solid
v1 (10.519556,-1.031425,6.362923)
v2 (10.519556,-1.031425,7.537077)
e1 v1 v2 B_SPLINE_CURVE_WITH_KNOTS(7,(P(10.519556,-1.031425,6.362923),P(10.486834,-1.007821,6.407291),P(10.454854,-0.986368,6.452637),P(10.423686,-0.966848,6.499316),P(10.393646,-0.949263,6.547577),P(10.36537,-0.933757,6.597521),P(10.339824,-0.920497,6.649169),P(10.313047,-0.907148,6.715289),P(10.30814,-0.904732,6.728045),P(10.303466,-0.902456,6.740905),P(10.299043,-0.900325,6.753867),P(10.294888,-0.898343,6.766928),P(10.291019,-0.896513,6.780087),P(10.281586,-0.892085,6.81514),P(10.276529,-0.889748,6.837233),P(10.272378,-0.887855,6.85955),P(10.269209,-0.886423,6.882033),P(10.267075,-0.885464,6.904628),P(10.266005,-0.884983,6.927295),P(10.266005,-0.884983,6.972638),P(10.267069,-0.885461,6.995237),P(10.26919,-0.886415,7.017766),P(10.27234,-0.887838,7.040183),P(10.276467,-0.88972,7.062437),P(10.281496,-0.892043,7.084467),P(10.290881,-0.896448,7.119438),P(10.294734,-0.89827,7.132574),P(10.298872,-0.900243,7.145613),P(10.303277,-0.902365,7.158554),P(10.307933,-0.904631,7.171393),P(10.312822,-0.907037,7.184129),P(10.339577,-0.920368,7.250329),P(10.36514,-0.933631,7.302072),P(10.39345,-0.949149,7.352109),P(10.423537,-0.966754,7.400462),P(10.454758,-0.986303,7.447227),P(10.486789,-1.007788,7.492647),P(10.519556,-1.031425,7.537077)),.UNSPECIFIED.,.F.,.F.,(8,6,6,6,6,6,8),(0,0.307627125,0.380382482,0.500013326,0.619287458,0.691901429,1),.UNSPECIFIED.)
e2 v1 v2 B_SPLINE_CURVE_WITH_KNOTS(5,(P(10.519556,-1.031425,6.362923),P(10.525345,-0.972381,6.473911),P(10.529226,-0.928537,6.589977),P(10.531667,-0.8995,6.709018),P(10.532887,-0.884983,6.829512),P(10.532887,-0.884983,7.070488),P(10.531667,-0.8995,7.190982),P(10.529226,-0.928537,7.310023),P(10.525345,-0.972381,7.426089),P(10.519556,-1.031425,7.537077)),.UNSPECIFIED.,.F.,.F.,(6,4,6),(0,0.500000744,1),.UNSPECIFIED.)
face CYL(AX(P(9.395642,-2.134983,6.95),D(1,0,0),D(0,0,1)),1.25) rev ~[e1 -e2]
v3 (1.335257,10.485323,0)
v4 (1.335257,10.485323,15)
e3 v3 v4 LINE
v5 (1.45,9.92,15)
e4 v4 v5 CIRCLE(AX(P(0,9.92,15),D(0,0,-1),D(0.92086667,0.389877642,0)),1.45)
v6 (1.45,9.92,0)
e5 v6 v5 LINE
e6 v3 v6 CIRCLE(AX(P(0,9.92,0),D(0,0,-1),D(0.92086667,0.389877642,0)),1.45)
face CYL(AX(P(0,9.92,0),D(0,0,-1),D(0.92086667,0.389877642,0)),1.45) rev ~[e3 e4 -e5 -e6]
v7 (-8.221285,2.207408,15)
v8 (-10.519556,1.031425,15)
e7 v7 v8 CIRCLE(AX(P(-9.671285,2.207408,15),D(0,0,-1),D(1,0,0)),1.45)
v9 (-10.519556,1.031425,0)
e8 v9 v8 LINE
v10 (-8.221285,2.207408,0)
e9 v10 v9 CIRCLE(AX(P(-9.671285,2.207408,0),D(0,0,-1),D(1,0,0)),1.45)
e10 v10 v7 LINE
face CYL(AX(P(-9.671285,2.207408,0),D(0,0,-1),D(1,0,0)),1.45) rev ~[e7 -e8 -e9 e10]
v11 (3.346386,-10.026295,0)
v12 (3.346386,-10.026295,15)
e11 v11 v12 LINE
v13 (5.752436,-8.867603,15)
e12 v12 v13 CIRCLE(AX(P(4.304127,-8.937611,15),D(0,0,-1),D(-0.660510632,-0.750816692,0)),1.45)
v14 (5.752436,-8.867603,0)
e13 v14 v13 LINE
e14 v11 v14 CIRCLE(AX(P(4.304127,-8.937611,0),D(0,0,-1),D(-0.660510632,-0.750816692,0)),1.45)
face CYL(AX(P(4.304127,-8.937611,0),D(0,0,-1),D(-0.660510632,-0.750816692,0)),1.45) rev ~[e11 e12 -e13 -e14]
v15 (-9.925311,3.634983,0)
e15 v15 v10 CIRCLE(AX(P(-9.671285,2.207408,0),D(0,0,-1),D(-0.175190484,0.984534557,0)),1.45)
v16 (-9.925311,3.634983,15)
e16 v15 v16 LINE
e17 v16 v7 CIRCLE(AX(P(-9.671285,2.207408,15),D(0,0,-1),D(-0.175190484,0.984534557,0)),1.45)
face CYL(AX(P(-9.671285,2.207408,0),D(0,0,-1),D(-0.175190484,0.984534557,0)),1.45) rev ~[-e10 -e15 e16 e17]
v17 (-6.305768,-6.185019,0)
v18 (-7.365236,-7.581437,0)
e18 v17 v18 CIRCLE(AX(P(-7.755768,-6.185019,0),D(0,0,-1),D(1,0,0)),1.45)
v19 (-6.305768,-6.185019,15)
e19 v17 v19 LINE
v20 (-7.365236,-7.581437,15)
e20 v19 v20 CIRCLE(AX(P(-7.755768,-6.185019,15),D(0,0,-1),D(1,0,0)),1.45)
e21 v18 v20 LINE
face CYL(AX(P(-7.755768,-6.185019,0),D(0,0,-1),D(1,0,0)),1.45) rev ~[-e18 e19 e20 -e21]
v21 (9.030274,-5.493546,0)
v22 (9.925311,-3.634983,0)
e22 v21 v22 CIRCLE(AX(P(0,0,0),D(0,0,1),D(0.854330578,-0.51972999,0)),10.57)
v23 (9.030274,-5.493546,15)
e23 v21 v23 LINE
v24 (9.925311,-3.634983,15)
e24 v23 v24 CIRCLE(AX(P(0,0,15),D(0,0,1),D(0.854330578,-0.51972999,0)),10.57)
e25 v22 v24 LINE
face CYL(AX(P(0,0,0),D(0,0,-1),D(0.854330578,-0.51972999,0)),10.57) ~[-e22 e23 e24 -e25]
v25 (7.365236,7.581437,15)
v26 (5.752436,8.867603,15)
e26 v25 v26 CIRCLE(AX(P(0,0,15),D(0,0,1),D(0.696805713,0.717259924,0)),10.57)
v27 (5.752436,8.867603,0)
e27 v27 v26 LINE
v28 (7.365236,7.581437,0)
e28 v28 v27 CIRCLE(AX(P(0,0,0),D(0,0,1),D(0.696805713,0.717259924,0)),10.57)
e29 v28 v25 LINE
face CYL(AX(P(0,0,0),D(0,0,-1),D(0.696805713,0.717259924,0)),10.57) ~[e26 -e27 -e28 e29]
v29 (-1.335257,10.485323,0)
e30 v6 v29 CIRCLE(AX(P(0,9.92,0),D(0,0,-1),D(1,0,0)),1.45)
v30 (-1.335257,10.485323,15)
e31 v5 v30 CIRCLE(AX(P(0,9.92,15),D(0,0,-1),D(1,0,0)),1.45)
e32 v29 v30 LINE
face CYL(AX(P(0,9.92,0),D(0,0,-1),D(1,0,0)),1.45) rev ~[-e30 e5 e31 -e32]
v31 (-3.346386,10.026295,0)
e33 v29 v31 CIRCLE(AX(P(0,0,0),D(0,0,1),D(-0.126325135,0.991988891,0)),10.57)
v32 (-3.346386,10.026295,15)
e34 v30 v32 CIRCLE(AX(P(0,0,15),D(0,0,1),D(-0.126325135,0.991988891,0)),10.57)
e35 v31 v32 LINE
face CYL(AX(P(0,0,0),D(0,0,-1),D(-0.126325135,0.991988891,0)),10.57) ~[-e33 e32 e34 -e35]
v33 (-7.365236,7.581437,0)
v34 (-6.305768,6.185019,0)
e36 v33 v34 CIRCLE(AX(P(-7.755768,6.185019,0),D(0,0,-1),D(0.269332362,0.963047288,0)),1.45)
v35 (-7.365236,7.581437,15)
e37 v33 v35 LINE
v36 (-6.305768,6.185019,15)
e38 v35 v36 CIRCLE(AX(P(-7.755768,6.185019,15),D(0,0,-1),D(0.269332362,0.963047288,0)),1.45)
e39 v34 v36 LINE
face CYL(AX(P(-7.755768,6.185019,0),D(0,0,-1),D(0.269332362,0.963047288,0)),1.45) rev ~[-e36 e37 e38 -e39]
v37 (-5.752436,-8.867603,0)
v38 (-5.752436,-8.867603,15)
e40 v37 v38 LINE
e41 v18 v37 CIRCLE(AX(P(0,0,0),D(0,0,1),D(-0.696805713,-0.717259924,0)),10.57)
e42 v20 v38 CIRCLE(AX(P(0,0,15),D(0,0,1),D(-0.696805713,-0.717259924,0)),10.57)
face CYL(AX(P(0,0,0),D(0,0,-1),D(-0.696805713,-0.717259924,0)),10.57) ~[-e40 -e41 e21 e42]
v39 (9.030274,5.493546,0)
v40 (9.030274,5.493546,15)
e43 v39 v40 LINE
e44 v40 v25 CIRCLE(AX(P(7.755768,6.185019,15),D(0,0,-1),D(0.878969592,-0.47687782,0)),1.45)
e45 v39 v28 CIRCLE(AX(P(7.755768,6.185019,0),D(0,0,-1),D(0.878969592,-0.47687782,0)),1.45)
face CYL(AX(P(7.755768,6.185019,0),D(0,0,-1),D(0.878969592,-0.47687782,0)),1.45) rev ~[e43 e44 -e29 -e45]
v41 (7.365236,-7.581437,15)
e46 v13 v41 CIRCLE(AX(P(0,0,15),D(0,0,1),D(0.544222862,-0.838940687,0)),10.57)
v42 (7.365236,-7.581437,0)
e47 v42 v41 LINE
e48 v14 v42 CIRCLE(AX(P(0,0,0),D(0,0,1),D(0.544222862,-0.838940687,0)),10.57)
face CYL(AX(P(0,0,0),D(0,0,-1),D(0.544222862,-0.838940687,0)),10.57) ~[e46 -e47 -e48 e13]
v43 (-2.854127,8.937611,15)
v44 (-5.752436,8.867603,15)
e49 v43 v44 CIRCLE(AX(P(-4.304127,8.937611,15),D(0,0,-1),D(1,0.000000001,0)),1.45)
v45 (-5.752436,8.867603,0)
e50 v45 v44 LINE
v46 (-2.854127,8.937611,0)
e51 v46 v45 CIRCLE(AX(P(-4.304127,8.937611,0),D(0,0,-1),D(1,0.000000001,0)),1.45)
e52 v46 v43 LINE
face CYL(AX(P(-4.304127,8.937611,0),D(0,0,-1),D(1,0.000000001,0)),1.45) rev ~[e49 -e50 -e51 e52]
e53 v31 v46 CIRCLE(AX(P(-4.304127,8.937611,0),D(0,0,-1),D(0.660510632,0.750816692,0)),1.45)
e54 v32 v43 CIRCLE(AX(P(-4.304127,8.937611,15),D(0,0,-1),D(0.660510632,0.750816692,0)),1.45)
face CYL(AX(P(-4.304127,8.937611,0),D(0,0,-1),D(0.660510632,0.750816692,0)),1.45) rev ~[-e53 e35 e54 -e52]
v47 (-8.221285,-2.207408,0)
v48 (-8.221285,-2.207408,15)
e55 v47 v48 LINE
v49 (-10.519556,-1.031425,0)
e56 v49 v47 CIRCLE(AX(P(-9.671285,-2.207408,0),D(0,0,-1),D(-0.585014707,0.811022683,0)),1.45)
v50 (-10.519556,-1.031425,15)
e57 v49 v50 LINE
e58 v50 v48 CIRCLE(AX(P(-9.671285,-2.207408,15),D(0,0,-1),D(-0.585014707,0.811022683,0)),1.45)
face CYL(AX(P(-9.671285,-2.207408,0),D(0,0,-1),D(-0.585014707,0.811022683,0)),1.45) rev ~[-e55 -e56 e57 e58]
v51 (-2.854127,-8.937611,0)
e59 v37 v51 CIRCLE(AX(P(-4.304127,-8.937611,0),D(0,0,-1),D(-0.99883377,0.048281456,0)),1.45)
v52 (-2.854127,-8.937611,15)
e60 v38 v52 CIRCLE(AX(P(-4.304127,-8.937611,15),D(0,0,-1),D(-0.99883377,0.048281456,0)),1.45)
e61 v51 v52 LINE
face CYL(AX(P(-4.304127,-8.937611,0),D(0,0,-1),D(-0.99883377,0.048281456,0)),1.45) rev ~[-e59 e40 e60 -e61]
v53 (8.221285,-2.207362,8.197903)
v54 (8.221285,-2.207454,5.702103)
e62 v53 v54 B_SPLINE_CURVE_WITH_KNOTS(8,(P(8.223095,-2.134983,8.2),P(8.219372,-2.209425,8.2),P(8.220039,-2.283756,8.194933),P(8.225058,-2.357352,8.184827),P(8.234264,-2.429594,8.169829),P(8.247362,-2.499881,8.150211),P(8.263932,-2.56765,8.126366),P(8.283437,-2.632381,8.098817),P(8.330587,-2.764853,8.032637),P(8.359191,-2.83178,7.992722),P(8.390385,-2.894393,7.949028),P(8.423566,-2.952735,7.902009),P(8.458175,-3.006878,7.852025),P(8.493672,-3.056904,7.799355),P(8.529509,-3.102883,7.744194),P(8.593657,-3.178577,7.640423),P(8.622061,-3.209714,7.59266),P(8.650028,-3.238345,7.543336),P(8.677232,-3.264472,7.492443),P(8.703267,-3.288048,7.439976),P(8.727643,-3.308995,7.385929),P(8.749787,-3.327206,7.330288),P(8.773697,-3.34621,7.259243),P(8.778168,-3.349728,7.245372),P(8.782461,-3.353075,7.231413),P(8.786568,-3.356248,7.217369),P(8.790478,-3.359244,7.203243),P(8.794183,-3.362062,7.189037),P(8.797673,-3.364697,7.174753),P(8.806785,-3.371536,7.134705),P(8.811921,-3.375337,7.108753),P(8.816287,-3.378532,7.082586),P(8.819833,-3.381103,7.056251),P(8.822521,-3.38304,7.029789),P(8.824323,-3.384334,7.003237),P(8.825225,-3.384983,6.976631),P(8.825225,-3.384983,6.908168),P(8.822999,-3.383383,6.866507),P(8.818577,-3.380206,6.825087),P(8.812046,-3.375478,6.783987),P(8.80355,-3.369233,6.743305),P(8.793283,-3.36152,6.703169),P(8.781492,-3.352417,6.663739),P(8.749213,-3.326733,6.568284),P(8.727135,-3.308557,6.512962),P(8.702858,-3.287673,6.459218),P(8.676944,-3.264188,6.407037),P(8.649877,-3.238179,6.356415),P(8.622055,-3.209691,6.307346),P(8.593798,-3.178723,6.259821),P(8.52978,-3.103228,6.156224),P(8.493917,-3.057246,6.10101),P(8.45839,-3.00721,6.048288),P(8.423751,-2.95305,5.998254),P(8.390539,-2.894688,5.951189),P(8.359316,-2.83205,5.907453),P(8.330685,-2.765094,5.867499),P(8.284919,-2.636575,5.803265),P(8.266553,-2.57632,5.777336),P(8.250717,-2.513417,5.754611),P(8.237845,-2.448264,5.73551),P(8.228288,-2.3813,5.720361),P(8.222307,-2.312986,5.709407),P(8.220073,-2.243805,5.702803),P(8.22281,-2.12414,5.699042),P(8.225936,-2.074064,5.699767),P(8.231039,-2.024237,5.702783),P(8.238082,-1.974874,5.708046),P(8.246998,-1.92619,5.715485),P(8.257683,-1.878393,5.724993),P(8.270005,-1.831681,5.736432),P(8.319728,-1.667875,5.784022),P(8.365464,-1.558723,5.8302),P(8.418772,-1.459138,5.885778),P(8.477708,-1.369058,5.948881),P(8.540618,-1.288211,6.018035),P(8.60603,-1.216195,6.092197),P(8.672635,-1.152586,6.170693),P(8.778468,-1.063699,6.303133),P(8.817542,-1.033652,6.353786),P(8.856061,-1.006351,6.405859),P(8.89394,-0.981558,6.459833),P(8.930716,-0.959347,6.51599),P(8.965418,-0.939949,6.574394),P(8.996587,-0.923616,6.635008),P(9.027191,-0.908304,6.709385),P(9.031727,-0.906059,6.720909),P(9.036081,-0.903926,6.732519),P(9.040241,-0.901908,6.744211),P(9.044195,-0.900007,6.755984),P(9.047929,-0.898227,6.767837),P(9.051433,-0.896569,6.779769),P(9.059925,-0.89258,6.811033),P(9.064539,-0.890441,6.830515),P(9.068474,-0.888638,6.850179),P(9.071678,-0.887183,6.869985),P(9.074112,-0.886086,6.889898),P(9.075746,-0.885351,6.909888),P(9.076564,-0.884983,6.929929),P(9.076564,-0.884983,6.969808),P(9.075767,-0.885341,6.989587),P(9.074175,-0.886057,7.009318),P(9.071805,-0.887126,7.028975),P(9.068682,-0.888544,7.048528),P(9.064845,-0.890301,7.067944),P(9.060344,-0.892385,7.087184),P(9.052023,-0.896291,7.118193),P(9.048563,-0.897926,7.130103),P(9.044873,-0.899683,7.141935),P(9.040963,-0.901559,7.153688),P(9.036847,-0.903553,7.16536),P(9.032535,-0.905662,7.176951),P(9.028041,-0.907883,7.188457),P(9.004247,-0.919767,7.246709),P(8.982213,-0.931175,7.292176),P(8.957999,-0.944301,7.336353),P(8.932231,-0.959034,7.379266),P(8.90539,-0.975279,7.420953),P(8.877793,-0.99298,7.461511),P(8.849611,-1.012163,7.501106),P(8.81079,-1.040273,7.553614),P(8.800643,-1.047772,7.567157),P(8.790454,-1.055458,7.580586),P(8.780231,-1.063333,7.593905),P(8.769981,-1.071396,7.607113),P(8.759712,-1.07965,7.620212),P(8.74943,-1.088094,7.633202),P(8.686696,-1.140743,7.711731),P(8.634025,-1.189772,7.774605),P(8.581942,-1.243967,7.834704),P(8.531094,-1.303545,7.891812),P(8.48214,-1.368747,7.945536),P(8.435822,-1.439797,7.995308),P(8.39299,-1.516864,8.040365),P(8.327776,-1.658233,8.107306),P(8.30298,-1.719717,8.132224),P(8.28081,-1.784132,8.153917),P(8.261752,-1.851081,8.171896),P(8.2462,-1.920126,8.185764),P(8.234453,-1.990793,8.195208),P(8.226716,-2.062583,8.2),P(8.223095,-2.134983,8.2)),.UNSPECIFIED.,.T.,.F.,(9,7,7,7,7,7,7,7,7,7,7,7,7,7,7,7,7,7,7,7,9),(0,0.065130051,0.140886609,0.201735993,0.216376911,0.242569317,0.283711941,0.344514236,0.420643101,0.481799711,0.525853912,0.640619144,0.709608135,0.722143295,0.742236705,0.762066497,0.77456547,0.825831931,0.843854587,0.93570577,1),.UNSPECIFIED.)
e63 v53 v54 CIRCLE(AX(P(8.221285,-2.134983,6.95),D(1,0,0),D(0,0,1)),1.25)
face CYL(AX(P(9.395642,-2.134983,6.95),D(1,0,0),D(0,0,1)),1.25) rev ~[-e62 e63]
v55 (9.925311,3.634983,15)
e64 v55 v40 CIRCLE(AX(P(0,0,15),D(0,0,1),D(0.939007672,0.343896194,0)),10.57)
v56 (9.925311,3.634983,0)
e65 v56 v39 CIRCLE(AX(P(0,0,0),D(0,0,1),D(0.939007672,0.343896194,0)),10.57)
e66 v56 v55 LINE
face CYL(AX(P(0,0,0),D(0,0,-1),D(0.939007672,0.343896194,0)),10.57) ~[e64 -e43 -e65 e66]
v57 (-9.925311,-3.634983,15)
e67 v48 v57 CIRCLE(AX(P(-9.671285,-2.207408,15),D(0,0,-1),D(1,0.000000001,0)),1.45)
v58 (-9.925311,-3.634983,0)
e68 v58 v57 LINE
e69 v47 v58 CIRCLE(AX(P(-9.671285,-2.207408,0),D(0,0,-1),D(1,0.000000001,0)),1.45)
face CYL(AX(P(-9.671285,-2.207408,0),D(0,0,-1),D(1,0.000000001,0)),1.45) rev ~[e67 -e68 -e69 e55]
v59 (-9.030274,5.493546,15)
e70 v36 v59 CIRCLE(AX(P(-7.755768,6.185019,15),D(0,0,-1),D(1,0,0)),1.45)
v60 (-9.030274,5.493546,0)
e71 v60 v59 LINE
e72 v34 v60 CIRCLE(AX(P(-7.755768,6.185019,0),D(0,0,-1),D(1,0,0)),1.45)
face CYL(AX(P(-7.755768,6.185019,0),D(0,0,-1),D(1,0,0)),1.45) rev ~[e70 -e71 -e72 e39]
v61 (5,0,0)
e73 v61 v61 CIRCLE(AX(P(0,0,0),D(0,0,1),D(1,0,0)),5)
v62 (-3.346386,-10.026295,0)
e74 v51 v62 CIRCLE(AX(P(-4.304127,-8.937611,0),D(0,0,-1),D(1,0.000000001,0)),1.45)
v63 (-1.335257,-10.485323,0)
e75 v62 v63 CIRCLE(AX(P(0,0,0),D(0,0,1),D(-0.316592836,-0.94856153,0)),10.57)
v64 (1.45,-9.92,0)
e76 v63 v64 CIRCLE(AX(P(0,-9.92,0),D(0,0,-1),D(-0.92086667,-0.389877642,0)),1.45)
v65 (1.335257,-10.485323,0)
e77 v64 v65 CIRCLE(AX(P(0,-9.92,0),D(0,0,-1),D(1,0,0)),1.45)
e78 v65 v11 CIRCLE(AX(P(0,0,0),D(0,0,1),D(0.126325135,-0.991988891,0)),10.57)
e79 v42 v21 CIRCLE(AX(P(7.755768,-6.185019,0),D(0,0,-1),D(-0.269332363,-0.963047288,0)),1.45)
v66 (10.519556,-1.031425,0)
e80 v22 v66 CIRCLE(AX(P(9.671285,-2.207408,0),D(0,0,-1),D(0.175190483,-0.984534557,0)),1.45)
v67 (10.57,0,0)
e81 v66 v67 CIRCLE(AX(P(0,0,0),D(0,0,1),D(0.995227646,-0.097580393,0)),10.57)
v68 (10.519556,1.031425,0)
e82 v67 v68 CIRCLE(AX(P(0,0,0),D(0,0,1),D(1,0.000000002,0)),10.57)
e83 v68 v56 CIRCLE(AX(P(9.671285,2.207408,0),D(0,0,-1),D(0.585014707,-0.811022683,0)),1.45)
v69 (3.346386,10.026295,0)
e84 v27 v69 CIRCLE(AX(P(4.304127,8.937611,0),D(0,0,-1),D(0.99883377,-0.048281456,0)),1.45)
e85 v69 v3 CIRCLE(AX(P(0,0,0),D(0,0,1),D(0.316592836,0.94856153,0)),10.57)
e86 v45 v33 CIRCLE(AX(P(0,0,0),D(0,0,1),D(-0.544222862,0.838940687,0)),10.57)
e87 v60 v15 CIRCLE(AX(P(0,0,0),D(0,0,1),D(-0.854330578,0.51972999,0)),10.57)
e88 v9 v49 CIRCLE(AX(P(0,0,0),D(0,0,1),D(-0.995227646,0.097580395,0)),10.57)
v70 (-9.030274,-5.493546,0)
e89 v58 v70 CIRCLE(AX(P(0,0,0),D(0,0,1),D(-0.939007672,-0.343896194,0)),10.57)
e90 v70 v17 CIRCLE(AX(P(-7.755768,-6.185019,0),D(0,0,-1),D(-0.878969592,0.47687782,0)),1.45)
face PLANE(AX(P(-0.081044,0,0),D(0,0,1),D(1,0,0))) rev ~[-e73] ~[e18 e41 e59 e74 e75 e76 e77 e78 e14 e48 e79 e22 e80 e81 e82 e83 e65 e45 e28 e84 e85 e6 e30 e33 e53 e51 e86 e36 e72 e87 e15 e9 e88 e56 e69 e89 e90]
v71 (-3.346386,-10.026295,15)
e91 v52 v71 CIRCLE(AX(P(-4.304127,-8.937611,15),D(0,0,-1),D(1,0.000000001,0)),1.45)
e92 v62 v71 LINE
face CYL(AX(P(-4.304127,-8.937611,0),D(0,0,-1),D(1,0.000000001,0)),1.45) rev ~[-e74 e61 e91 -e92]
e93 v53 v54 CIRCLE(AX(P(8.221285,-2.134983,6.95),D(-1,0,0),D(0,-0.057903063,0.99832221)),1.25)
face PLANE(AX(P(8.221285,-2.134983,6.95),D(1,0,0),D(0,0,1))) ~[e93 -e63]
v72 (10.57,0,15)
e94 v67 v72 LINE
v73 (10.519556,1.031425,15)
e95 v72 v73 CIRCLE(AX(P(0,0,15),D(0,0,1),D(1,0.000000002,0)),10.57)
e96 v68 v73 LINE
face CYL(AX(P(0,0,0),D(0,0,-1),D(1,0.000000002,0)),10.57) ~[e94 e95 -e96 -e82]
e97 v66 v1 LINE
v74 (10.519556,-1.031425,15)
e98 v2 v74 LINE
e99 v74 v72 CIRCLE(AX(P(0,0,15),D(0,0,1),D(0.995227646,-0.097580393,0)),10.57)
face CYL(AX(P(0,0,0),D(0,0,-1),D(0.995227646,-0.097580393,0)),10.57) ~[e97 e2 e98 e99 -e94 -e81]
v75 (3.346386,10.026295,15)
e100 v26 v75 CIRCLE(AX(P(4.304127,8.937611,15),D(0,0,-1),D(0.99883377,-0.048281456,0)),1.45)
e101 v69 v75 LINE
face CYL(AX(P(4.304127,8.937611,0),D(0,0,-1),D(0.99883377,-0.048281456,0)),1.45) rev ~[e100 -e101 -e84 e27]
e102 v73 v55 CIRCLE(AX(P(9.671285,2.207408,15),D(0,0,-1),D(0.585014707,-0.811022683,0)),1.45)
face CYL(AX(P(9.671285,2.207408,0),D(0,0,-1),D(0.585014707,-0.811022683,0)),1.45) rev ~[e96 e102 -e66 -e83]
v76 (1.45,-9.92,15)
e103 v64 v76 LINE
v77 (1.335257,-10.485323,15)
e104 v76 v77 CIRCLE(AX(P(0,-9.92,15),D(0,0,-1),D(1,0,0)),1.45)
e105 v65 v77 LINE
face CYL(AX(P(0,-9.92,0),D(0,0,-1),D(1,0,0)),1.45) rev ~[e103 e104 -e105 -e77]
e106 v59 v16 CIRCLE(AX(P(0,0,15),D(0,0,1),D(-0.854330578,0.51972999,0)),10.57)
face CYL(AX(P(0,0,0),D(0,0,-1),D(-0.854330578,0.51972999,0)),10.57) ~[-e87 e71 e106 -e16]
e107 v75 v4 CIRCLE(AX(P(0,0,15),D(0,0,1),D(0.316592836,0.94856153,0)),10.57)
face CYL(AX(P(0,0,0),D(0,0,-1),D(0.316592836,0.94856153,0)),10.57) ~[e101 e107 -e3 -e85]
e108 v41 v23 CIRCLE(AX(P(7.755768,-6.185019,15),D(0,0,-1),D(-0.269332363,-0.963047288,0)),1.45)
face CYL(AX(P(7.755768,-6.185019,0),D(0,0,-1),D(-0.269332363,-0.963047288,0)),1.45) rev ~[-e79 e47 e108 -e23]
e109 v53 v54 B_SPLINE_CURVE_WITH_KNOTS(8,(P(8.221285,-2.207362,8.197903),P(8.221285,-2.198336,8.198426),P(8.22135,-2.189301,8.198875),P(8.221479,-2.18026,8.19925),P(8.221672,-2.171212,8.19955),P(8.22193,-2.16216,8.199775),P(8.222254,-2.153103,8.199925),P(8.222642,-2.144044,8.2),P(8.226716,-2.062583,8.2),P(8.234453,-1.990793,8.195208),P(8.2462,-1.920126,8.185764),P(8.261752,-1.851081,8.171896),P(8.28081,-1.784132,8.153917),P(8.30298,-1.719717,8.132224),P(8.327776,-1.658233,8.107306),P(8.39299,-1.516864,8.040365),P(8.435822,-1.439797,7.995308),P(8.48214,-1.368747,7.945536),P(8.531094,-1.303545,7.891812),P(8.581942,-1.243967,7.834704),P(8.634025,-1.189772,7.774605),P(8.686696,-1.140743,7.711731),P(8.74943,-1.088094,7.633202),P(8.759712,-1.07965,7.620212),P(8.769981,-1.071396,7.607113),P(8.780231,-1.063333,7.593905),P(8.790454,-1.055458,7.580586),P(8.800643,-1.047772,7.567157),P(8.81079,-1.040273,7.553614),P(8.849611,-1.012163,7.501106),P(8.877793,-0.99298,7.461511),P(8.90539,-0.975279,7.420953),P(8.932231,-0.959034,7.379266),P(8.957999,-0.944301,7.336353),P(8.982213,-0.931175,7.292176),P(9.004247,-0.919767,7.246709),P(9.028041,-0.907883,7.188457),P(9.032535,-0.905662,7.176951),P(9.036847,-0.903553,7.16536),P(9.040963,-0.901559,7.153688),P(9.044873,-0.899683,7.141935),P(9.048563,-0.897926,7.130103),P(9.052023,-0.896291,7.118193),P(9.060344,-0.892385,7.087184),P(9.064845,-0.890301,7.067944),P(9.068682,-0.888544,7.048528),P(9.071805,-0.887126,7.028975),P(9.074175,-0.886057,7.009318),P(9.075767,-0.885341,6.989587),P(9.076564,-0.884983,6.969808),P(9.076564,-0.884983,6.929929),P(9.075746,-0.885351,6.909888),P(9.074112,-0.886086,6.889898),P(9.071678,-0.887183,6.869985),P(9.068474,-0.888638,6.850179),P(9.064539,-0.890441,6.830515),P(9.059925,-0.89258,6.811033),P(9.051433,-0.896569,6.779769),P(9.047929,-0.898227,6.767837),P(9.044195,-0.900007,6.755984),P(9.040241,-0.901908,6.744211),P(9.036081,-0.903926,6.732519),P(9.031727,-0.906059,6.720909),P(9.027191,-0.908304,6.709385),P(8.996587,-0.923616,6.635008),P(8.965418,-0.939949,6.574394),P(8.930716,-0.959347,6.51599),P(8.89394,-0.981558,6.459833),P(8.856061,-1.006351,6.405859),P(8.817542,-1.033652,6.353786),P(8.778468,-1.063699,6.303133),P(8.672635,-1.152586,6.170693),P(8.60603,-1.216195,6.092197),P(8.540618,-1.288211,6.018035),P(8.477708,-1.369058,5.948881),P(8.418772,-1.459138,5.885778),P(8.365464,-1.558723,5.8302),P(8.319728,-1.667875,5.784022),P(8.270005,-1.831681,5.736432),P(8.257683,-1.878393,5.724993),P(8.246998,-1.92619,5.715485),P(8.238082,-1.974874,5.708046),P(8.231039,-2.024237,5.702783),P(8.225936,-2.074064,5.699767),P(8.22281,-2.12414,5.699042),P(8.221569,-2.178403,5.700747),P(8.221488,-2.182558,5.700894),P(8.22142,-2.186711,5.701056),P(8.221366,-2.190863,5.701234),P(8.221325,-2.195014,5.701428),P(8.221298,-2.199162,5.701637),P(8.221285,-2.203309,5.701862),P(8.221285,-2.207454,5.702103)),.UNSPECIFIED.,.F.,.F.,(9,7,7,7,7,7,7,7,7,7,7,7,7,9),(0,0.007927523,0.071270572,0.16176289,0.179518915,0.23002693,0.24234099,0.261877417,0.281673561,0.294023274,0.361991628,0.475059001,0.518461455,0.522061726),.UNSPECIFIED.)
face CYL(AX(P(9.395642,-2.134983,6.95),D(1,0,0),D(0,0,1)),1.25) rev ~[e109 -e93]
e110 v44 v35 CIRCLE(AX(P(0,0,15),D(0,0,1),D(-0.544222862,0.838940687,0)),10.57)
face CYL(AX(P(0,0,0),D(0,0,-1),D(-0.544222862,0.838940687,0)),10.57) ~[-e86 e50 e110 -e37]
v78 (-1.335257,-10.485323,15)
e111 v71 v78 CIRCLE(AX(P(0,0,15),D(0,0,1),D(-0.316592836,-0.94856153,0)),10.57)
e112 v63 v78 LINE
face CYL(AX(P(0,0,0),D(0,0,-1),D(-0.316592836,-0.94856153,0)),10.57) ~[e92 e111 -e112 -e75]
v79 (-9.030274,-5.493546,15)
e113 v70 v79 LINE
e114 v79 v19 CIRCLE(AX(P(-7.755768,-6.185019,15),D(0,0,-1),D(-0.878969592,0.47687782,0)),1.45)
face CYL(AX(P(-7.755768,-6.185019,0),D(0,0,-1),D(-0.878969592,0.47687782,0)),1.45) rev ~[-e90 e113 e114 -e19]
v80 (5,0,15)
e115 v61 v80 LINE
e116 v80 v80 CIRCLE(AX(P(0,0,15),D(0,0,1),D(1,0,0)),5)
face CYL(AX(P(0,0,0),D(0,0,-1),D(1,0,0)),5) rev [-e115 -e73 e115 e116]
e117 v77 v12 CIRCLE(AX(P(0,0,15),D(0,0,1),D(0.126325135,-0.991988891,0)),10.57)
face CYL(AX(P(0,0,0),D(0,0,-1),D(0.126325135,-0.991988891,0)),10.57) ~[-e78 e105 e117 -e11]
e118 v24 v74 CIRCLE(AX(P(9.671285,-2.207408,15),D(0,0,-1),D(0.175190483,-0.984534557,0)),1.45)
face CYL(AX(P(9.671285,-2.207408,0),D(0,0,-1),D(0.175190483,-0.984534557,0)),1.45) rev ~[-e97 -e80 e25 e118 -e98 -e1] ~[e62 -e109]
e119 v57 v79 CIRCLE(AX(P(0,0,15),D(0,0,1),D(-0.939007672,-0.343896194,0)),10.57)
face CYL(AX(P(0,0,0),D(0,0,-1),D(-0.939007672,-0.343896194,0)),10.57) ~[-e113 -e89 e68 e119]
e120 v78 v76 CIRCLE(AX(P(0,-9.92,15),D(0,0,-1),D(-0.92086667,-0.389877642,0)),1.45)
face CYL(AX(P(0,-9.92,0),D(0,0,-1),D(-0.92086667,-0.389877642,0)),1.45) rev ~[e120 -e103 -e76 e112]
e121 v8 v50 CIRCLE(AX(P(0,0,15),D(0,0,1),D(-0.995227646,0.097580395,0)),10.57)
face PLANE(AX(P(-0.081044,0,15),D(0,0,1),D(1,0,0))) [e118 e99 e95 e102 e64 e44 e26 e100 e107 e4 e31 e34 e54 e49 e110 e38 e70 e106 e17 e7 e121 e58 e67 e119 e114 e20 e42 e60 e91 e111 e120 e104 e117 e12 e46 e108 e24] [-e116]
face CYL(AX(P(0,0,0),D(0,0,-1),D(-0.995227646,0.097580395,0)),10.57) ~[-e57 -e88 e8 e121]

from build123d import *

# Parameters (mm, degrees)
SKETCH1_R           = 5
BOSS_EXTRUDE1_DEPTH = 15
SKETCH7_W           = 1.25
SKETCH7_H           = 2.348715111


with BuildPart() as part:
    # Sketch1 → Boss-Extrude1 (new body)
    with BuildSketch(Plane.XY):
        with BuildLine():
            ThreePointArc((10.519556214, -1.031424774), (10.557381521, -0.516328781), (10.57, 0))
            ThreePointArc((10.57, 0), (10.557381521, 0.516328781), (10.519556214, 1.031424774))
            ThreePointArc((10.519556214, 1.031424774), (8.257639416, 1.884752311), (9.92531109, 3.634982773))
            ThreePointArc((9.92531109, 3.634982773), (9.523240934, 4.586151122), (9.030274215, 5.493545995))
            ThreePointArc((9.030274215, 5.493545995), (6.622112657, 5.280958622), (7.36523638, 7.581437401))
            ThreePointArc((7.36523638, 7.581437401), (6.590287206, 8.26395877), (5.752435659, 8.867603058))
            ThreePointArc((5.752435659, 8.867603058), (3.67499527, 7.631206311), (3.346386275, 10.026295373))
            ThreePointArc((3.346386275, 10.026295373), (2.352046272, 10.304988032), (1.335256672, 10.485322581))
            ThreePointArc((1.335256672, 10.485322581), (1.421024661, 10.208424883), (1.45, 9.92))
            ThreePointArc((1.45, 9.92), (-0.288424883, 8.498975339), (-1.335256672, 10.485322581))
            ThreePointArc((-1.335256672, 10.485322581), (-2.352046272, 10.304988032), (-3.346386275, 10.026295373))
            ThreePointArc((-3.346386275, 10.026295373), (-2.98291066, 9.535012373), (-2.854126692, 8.93761117))
            ThreePointArc((-2.854126692, 8.93761117), (-4.269112426, 7.488033989), (-5.752435659, 8.867603058))
            ThreePointArc((-5.752435659, 8.867603058), (-6.590287206, 8.26395877), (-7.36523638, 7.581437401))
            ThreePointArc((-7.36523638, 7.581437401), (-6.600612193, 7.061440168), (-6.305768306, 6.185018834))
            ThreePointArc((-6.305768306, 6.185018834), (-7.399070653, 4.779576988), (-9.030274215, 5.493545995))
            ThreePointArc((-9.030274215, 5.493545995), (-9.523240934, 4.586151122), (-9.92531109, 3.634982773))
            ThreePointArc((-9.92531109, 3.634982773), (-8.740113044, 3.318901703), (-8.221284889, 2.207407665))
            ThreePointArc((-8.221284889, 2.207407665), (-9.010790158, 0.916575875), (-10.519556214, 1.031424774))
            ThreePointArc((-10.519556214, 1.031424774), (-10.57, 0), (-10.519556214, -1.031424774))
            ThreePointArc((-10.519556214, -1.031424774), (-9.010790158, -0.916575875), (-8.221284889, -2.207407665))
            ThreePointArc((-8.221284889, -2.207407665), (-8.740113044, -3.318901703), (-9.92531109, -3.634982773))
            ThreePointArc((-9.92531109, -3.634982773), (-9.523240934, -4.586151122), (-9.030274215, -5.493545995))
            ThreePointArc((-9.030274215, -5.493545995), (-7.399070653, -4.779576988), (-6.305768306, -6.185018834))
            ThreePointArc((-6.305768306, -6.185018834), (-6.600612193, -7.061440168), (-7.36523638, -7.581437401))
            ThreePointArc((-7.36523638, -7.581437401), (-6.590287206, -8.26395877), (-5.752435659, -8.867603058))
            ThreePointArc((-5.752435659, -8.867603058), (-4.269112426, -7.488033989), (-2.854126692, -8.93761117))
            ThreePointArc((-2.854126692, -8.93761117), (-2.98291066, -9.535012373), (-3.346386275, -10.026295373))
            ThreePointArc((-3.346386275, -10.026295373), (-2.352046272, -10.304988032), (-1.335256672, -10.485322581))
            ThreePointArc((-1.335256672, -10.485322581), (-0.288424883, -8.498975339), (1.45, -9.92))
            ThreePointArc((1.45, -9.92), (1.421024661, -10.208424883), (1.335256672, -10.485322581))
            ThreePointArc((1.335256672, -10.485322581), (2.352046272, -10.304988032), (3.346386275, -10.026295373))
            ThreePointArc((3.346386275, -10.026295373), (3.67499527, -7.631206311), (5.752435659, -8.867603058))
            ThreePointArc((5.752435659, -8.867603058), (6.590287206, -8.26395877), (7.36523638, -7.581437401))
            ThreePointArc((7.36523638, -7.581437401), (6.622112657, -5.280958622), (9.030274215, -5.493545995))
            ThreePointArc((9.030274215, -5.493545995), (9.523240934, -4.586151122), (9.92531109, -3.634982773))
            ThreePointArc((9.92531109, -3.634982773), (8.257639416, -1.884752311), (10.519556214, -1.031424774))
        make_face()
        Circle(SKETCH1_R, mode=Mode.SUBTRACT)
    extrude(amount=BOSS_EXTRUDE1_DEPTH)

    # Sketch7 → M3 Tapped Hole1 (revolve, cut)
    with BuildSketch(Plane(origin=(8.221284889, -2.134982773, 6.95), x_dir=(0, 0, 1), z_dir=(0, 1, 0))):
        with Locations((0.625, 1.174357556)):
            Rectangle(SKETCH7_W, SKETCH7_H)
    revolve(axis=Axis((1.871284889, -2.134982773, 6.95), (1, 0, 0)), mode=Mode.SUBTRACT)


solid = part.part
